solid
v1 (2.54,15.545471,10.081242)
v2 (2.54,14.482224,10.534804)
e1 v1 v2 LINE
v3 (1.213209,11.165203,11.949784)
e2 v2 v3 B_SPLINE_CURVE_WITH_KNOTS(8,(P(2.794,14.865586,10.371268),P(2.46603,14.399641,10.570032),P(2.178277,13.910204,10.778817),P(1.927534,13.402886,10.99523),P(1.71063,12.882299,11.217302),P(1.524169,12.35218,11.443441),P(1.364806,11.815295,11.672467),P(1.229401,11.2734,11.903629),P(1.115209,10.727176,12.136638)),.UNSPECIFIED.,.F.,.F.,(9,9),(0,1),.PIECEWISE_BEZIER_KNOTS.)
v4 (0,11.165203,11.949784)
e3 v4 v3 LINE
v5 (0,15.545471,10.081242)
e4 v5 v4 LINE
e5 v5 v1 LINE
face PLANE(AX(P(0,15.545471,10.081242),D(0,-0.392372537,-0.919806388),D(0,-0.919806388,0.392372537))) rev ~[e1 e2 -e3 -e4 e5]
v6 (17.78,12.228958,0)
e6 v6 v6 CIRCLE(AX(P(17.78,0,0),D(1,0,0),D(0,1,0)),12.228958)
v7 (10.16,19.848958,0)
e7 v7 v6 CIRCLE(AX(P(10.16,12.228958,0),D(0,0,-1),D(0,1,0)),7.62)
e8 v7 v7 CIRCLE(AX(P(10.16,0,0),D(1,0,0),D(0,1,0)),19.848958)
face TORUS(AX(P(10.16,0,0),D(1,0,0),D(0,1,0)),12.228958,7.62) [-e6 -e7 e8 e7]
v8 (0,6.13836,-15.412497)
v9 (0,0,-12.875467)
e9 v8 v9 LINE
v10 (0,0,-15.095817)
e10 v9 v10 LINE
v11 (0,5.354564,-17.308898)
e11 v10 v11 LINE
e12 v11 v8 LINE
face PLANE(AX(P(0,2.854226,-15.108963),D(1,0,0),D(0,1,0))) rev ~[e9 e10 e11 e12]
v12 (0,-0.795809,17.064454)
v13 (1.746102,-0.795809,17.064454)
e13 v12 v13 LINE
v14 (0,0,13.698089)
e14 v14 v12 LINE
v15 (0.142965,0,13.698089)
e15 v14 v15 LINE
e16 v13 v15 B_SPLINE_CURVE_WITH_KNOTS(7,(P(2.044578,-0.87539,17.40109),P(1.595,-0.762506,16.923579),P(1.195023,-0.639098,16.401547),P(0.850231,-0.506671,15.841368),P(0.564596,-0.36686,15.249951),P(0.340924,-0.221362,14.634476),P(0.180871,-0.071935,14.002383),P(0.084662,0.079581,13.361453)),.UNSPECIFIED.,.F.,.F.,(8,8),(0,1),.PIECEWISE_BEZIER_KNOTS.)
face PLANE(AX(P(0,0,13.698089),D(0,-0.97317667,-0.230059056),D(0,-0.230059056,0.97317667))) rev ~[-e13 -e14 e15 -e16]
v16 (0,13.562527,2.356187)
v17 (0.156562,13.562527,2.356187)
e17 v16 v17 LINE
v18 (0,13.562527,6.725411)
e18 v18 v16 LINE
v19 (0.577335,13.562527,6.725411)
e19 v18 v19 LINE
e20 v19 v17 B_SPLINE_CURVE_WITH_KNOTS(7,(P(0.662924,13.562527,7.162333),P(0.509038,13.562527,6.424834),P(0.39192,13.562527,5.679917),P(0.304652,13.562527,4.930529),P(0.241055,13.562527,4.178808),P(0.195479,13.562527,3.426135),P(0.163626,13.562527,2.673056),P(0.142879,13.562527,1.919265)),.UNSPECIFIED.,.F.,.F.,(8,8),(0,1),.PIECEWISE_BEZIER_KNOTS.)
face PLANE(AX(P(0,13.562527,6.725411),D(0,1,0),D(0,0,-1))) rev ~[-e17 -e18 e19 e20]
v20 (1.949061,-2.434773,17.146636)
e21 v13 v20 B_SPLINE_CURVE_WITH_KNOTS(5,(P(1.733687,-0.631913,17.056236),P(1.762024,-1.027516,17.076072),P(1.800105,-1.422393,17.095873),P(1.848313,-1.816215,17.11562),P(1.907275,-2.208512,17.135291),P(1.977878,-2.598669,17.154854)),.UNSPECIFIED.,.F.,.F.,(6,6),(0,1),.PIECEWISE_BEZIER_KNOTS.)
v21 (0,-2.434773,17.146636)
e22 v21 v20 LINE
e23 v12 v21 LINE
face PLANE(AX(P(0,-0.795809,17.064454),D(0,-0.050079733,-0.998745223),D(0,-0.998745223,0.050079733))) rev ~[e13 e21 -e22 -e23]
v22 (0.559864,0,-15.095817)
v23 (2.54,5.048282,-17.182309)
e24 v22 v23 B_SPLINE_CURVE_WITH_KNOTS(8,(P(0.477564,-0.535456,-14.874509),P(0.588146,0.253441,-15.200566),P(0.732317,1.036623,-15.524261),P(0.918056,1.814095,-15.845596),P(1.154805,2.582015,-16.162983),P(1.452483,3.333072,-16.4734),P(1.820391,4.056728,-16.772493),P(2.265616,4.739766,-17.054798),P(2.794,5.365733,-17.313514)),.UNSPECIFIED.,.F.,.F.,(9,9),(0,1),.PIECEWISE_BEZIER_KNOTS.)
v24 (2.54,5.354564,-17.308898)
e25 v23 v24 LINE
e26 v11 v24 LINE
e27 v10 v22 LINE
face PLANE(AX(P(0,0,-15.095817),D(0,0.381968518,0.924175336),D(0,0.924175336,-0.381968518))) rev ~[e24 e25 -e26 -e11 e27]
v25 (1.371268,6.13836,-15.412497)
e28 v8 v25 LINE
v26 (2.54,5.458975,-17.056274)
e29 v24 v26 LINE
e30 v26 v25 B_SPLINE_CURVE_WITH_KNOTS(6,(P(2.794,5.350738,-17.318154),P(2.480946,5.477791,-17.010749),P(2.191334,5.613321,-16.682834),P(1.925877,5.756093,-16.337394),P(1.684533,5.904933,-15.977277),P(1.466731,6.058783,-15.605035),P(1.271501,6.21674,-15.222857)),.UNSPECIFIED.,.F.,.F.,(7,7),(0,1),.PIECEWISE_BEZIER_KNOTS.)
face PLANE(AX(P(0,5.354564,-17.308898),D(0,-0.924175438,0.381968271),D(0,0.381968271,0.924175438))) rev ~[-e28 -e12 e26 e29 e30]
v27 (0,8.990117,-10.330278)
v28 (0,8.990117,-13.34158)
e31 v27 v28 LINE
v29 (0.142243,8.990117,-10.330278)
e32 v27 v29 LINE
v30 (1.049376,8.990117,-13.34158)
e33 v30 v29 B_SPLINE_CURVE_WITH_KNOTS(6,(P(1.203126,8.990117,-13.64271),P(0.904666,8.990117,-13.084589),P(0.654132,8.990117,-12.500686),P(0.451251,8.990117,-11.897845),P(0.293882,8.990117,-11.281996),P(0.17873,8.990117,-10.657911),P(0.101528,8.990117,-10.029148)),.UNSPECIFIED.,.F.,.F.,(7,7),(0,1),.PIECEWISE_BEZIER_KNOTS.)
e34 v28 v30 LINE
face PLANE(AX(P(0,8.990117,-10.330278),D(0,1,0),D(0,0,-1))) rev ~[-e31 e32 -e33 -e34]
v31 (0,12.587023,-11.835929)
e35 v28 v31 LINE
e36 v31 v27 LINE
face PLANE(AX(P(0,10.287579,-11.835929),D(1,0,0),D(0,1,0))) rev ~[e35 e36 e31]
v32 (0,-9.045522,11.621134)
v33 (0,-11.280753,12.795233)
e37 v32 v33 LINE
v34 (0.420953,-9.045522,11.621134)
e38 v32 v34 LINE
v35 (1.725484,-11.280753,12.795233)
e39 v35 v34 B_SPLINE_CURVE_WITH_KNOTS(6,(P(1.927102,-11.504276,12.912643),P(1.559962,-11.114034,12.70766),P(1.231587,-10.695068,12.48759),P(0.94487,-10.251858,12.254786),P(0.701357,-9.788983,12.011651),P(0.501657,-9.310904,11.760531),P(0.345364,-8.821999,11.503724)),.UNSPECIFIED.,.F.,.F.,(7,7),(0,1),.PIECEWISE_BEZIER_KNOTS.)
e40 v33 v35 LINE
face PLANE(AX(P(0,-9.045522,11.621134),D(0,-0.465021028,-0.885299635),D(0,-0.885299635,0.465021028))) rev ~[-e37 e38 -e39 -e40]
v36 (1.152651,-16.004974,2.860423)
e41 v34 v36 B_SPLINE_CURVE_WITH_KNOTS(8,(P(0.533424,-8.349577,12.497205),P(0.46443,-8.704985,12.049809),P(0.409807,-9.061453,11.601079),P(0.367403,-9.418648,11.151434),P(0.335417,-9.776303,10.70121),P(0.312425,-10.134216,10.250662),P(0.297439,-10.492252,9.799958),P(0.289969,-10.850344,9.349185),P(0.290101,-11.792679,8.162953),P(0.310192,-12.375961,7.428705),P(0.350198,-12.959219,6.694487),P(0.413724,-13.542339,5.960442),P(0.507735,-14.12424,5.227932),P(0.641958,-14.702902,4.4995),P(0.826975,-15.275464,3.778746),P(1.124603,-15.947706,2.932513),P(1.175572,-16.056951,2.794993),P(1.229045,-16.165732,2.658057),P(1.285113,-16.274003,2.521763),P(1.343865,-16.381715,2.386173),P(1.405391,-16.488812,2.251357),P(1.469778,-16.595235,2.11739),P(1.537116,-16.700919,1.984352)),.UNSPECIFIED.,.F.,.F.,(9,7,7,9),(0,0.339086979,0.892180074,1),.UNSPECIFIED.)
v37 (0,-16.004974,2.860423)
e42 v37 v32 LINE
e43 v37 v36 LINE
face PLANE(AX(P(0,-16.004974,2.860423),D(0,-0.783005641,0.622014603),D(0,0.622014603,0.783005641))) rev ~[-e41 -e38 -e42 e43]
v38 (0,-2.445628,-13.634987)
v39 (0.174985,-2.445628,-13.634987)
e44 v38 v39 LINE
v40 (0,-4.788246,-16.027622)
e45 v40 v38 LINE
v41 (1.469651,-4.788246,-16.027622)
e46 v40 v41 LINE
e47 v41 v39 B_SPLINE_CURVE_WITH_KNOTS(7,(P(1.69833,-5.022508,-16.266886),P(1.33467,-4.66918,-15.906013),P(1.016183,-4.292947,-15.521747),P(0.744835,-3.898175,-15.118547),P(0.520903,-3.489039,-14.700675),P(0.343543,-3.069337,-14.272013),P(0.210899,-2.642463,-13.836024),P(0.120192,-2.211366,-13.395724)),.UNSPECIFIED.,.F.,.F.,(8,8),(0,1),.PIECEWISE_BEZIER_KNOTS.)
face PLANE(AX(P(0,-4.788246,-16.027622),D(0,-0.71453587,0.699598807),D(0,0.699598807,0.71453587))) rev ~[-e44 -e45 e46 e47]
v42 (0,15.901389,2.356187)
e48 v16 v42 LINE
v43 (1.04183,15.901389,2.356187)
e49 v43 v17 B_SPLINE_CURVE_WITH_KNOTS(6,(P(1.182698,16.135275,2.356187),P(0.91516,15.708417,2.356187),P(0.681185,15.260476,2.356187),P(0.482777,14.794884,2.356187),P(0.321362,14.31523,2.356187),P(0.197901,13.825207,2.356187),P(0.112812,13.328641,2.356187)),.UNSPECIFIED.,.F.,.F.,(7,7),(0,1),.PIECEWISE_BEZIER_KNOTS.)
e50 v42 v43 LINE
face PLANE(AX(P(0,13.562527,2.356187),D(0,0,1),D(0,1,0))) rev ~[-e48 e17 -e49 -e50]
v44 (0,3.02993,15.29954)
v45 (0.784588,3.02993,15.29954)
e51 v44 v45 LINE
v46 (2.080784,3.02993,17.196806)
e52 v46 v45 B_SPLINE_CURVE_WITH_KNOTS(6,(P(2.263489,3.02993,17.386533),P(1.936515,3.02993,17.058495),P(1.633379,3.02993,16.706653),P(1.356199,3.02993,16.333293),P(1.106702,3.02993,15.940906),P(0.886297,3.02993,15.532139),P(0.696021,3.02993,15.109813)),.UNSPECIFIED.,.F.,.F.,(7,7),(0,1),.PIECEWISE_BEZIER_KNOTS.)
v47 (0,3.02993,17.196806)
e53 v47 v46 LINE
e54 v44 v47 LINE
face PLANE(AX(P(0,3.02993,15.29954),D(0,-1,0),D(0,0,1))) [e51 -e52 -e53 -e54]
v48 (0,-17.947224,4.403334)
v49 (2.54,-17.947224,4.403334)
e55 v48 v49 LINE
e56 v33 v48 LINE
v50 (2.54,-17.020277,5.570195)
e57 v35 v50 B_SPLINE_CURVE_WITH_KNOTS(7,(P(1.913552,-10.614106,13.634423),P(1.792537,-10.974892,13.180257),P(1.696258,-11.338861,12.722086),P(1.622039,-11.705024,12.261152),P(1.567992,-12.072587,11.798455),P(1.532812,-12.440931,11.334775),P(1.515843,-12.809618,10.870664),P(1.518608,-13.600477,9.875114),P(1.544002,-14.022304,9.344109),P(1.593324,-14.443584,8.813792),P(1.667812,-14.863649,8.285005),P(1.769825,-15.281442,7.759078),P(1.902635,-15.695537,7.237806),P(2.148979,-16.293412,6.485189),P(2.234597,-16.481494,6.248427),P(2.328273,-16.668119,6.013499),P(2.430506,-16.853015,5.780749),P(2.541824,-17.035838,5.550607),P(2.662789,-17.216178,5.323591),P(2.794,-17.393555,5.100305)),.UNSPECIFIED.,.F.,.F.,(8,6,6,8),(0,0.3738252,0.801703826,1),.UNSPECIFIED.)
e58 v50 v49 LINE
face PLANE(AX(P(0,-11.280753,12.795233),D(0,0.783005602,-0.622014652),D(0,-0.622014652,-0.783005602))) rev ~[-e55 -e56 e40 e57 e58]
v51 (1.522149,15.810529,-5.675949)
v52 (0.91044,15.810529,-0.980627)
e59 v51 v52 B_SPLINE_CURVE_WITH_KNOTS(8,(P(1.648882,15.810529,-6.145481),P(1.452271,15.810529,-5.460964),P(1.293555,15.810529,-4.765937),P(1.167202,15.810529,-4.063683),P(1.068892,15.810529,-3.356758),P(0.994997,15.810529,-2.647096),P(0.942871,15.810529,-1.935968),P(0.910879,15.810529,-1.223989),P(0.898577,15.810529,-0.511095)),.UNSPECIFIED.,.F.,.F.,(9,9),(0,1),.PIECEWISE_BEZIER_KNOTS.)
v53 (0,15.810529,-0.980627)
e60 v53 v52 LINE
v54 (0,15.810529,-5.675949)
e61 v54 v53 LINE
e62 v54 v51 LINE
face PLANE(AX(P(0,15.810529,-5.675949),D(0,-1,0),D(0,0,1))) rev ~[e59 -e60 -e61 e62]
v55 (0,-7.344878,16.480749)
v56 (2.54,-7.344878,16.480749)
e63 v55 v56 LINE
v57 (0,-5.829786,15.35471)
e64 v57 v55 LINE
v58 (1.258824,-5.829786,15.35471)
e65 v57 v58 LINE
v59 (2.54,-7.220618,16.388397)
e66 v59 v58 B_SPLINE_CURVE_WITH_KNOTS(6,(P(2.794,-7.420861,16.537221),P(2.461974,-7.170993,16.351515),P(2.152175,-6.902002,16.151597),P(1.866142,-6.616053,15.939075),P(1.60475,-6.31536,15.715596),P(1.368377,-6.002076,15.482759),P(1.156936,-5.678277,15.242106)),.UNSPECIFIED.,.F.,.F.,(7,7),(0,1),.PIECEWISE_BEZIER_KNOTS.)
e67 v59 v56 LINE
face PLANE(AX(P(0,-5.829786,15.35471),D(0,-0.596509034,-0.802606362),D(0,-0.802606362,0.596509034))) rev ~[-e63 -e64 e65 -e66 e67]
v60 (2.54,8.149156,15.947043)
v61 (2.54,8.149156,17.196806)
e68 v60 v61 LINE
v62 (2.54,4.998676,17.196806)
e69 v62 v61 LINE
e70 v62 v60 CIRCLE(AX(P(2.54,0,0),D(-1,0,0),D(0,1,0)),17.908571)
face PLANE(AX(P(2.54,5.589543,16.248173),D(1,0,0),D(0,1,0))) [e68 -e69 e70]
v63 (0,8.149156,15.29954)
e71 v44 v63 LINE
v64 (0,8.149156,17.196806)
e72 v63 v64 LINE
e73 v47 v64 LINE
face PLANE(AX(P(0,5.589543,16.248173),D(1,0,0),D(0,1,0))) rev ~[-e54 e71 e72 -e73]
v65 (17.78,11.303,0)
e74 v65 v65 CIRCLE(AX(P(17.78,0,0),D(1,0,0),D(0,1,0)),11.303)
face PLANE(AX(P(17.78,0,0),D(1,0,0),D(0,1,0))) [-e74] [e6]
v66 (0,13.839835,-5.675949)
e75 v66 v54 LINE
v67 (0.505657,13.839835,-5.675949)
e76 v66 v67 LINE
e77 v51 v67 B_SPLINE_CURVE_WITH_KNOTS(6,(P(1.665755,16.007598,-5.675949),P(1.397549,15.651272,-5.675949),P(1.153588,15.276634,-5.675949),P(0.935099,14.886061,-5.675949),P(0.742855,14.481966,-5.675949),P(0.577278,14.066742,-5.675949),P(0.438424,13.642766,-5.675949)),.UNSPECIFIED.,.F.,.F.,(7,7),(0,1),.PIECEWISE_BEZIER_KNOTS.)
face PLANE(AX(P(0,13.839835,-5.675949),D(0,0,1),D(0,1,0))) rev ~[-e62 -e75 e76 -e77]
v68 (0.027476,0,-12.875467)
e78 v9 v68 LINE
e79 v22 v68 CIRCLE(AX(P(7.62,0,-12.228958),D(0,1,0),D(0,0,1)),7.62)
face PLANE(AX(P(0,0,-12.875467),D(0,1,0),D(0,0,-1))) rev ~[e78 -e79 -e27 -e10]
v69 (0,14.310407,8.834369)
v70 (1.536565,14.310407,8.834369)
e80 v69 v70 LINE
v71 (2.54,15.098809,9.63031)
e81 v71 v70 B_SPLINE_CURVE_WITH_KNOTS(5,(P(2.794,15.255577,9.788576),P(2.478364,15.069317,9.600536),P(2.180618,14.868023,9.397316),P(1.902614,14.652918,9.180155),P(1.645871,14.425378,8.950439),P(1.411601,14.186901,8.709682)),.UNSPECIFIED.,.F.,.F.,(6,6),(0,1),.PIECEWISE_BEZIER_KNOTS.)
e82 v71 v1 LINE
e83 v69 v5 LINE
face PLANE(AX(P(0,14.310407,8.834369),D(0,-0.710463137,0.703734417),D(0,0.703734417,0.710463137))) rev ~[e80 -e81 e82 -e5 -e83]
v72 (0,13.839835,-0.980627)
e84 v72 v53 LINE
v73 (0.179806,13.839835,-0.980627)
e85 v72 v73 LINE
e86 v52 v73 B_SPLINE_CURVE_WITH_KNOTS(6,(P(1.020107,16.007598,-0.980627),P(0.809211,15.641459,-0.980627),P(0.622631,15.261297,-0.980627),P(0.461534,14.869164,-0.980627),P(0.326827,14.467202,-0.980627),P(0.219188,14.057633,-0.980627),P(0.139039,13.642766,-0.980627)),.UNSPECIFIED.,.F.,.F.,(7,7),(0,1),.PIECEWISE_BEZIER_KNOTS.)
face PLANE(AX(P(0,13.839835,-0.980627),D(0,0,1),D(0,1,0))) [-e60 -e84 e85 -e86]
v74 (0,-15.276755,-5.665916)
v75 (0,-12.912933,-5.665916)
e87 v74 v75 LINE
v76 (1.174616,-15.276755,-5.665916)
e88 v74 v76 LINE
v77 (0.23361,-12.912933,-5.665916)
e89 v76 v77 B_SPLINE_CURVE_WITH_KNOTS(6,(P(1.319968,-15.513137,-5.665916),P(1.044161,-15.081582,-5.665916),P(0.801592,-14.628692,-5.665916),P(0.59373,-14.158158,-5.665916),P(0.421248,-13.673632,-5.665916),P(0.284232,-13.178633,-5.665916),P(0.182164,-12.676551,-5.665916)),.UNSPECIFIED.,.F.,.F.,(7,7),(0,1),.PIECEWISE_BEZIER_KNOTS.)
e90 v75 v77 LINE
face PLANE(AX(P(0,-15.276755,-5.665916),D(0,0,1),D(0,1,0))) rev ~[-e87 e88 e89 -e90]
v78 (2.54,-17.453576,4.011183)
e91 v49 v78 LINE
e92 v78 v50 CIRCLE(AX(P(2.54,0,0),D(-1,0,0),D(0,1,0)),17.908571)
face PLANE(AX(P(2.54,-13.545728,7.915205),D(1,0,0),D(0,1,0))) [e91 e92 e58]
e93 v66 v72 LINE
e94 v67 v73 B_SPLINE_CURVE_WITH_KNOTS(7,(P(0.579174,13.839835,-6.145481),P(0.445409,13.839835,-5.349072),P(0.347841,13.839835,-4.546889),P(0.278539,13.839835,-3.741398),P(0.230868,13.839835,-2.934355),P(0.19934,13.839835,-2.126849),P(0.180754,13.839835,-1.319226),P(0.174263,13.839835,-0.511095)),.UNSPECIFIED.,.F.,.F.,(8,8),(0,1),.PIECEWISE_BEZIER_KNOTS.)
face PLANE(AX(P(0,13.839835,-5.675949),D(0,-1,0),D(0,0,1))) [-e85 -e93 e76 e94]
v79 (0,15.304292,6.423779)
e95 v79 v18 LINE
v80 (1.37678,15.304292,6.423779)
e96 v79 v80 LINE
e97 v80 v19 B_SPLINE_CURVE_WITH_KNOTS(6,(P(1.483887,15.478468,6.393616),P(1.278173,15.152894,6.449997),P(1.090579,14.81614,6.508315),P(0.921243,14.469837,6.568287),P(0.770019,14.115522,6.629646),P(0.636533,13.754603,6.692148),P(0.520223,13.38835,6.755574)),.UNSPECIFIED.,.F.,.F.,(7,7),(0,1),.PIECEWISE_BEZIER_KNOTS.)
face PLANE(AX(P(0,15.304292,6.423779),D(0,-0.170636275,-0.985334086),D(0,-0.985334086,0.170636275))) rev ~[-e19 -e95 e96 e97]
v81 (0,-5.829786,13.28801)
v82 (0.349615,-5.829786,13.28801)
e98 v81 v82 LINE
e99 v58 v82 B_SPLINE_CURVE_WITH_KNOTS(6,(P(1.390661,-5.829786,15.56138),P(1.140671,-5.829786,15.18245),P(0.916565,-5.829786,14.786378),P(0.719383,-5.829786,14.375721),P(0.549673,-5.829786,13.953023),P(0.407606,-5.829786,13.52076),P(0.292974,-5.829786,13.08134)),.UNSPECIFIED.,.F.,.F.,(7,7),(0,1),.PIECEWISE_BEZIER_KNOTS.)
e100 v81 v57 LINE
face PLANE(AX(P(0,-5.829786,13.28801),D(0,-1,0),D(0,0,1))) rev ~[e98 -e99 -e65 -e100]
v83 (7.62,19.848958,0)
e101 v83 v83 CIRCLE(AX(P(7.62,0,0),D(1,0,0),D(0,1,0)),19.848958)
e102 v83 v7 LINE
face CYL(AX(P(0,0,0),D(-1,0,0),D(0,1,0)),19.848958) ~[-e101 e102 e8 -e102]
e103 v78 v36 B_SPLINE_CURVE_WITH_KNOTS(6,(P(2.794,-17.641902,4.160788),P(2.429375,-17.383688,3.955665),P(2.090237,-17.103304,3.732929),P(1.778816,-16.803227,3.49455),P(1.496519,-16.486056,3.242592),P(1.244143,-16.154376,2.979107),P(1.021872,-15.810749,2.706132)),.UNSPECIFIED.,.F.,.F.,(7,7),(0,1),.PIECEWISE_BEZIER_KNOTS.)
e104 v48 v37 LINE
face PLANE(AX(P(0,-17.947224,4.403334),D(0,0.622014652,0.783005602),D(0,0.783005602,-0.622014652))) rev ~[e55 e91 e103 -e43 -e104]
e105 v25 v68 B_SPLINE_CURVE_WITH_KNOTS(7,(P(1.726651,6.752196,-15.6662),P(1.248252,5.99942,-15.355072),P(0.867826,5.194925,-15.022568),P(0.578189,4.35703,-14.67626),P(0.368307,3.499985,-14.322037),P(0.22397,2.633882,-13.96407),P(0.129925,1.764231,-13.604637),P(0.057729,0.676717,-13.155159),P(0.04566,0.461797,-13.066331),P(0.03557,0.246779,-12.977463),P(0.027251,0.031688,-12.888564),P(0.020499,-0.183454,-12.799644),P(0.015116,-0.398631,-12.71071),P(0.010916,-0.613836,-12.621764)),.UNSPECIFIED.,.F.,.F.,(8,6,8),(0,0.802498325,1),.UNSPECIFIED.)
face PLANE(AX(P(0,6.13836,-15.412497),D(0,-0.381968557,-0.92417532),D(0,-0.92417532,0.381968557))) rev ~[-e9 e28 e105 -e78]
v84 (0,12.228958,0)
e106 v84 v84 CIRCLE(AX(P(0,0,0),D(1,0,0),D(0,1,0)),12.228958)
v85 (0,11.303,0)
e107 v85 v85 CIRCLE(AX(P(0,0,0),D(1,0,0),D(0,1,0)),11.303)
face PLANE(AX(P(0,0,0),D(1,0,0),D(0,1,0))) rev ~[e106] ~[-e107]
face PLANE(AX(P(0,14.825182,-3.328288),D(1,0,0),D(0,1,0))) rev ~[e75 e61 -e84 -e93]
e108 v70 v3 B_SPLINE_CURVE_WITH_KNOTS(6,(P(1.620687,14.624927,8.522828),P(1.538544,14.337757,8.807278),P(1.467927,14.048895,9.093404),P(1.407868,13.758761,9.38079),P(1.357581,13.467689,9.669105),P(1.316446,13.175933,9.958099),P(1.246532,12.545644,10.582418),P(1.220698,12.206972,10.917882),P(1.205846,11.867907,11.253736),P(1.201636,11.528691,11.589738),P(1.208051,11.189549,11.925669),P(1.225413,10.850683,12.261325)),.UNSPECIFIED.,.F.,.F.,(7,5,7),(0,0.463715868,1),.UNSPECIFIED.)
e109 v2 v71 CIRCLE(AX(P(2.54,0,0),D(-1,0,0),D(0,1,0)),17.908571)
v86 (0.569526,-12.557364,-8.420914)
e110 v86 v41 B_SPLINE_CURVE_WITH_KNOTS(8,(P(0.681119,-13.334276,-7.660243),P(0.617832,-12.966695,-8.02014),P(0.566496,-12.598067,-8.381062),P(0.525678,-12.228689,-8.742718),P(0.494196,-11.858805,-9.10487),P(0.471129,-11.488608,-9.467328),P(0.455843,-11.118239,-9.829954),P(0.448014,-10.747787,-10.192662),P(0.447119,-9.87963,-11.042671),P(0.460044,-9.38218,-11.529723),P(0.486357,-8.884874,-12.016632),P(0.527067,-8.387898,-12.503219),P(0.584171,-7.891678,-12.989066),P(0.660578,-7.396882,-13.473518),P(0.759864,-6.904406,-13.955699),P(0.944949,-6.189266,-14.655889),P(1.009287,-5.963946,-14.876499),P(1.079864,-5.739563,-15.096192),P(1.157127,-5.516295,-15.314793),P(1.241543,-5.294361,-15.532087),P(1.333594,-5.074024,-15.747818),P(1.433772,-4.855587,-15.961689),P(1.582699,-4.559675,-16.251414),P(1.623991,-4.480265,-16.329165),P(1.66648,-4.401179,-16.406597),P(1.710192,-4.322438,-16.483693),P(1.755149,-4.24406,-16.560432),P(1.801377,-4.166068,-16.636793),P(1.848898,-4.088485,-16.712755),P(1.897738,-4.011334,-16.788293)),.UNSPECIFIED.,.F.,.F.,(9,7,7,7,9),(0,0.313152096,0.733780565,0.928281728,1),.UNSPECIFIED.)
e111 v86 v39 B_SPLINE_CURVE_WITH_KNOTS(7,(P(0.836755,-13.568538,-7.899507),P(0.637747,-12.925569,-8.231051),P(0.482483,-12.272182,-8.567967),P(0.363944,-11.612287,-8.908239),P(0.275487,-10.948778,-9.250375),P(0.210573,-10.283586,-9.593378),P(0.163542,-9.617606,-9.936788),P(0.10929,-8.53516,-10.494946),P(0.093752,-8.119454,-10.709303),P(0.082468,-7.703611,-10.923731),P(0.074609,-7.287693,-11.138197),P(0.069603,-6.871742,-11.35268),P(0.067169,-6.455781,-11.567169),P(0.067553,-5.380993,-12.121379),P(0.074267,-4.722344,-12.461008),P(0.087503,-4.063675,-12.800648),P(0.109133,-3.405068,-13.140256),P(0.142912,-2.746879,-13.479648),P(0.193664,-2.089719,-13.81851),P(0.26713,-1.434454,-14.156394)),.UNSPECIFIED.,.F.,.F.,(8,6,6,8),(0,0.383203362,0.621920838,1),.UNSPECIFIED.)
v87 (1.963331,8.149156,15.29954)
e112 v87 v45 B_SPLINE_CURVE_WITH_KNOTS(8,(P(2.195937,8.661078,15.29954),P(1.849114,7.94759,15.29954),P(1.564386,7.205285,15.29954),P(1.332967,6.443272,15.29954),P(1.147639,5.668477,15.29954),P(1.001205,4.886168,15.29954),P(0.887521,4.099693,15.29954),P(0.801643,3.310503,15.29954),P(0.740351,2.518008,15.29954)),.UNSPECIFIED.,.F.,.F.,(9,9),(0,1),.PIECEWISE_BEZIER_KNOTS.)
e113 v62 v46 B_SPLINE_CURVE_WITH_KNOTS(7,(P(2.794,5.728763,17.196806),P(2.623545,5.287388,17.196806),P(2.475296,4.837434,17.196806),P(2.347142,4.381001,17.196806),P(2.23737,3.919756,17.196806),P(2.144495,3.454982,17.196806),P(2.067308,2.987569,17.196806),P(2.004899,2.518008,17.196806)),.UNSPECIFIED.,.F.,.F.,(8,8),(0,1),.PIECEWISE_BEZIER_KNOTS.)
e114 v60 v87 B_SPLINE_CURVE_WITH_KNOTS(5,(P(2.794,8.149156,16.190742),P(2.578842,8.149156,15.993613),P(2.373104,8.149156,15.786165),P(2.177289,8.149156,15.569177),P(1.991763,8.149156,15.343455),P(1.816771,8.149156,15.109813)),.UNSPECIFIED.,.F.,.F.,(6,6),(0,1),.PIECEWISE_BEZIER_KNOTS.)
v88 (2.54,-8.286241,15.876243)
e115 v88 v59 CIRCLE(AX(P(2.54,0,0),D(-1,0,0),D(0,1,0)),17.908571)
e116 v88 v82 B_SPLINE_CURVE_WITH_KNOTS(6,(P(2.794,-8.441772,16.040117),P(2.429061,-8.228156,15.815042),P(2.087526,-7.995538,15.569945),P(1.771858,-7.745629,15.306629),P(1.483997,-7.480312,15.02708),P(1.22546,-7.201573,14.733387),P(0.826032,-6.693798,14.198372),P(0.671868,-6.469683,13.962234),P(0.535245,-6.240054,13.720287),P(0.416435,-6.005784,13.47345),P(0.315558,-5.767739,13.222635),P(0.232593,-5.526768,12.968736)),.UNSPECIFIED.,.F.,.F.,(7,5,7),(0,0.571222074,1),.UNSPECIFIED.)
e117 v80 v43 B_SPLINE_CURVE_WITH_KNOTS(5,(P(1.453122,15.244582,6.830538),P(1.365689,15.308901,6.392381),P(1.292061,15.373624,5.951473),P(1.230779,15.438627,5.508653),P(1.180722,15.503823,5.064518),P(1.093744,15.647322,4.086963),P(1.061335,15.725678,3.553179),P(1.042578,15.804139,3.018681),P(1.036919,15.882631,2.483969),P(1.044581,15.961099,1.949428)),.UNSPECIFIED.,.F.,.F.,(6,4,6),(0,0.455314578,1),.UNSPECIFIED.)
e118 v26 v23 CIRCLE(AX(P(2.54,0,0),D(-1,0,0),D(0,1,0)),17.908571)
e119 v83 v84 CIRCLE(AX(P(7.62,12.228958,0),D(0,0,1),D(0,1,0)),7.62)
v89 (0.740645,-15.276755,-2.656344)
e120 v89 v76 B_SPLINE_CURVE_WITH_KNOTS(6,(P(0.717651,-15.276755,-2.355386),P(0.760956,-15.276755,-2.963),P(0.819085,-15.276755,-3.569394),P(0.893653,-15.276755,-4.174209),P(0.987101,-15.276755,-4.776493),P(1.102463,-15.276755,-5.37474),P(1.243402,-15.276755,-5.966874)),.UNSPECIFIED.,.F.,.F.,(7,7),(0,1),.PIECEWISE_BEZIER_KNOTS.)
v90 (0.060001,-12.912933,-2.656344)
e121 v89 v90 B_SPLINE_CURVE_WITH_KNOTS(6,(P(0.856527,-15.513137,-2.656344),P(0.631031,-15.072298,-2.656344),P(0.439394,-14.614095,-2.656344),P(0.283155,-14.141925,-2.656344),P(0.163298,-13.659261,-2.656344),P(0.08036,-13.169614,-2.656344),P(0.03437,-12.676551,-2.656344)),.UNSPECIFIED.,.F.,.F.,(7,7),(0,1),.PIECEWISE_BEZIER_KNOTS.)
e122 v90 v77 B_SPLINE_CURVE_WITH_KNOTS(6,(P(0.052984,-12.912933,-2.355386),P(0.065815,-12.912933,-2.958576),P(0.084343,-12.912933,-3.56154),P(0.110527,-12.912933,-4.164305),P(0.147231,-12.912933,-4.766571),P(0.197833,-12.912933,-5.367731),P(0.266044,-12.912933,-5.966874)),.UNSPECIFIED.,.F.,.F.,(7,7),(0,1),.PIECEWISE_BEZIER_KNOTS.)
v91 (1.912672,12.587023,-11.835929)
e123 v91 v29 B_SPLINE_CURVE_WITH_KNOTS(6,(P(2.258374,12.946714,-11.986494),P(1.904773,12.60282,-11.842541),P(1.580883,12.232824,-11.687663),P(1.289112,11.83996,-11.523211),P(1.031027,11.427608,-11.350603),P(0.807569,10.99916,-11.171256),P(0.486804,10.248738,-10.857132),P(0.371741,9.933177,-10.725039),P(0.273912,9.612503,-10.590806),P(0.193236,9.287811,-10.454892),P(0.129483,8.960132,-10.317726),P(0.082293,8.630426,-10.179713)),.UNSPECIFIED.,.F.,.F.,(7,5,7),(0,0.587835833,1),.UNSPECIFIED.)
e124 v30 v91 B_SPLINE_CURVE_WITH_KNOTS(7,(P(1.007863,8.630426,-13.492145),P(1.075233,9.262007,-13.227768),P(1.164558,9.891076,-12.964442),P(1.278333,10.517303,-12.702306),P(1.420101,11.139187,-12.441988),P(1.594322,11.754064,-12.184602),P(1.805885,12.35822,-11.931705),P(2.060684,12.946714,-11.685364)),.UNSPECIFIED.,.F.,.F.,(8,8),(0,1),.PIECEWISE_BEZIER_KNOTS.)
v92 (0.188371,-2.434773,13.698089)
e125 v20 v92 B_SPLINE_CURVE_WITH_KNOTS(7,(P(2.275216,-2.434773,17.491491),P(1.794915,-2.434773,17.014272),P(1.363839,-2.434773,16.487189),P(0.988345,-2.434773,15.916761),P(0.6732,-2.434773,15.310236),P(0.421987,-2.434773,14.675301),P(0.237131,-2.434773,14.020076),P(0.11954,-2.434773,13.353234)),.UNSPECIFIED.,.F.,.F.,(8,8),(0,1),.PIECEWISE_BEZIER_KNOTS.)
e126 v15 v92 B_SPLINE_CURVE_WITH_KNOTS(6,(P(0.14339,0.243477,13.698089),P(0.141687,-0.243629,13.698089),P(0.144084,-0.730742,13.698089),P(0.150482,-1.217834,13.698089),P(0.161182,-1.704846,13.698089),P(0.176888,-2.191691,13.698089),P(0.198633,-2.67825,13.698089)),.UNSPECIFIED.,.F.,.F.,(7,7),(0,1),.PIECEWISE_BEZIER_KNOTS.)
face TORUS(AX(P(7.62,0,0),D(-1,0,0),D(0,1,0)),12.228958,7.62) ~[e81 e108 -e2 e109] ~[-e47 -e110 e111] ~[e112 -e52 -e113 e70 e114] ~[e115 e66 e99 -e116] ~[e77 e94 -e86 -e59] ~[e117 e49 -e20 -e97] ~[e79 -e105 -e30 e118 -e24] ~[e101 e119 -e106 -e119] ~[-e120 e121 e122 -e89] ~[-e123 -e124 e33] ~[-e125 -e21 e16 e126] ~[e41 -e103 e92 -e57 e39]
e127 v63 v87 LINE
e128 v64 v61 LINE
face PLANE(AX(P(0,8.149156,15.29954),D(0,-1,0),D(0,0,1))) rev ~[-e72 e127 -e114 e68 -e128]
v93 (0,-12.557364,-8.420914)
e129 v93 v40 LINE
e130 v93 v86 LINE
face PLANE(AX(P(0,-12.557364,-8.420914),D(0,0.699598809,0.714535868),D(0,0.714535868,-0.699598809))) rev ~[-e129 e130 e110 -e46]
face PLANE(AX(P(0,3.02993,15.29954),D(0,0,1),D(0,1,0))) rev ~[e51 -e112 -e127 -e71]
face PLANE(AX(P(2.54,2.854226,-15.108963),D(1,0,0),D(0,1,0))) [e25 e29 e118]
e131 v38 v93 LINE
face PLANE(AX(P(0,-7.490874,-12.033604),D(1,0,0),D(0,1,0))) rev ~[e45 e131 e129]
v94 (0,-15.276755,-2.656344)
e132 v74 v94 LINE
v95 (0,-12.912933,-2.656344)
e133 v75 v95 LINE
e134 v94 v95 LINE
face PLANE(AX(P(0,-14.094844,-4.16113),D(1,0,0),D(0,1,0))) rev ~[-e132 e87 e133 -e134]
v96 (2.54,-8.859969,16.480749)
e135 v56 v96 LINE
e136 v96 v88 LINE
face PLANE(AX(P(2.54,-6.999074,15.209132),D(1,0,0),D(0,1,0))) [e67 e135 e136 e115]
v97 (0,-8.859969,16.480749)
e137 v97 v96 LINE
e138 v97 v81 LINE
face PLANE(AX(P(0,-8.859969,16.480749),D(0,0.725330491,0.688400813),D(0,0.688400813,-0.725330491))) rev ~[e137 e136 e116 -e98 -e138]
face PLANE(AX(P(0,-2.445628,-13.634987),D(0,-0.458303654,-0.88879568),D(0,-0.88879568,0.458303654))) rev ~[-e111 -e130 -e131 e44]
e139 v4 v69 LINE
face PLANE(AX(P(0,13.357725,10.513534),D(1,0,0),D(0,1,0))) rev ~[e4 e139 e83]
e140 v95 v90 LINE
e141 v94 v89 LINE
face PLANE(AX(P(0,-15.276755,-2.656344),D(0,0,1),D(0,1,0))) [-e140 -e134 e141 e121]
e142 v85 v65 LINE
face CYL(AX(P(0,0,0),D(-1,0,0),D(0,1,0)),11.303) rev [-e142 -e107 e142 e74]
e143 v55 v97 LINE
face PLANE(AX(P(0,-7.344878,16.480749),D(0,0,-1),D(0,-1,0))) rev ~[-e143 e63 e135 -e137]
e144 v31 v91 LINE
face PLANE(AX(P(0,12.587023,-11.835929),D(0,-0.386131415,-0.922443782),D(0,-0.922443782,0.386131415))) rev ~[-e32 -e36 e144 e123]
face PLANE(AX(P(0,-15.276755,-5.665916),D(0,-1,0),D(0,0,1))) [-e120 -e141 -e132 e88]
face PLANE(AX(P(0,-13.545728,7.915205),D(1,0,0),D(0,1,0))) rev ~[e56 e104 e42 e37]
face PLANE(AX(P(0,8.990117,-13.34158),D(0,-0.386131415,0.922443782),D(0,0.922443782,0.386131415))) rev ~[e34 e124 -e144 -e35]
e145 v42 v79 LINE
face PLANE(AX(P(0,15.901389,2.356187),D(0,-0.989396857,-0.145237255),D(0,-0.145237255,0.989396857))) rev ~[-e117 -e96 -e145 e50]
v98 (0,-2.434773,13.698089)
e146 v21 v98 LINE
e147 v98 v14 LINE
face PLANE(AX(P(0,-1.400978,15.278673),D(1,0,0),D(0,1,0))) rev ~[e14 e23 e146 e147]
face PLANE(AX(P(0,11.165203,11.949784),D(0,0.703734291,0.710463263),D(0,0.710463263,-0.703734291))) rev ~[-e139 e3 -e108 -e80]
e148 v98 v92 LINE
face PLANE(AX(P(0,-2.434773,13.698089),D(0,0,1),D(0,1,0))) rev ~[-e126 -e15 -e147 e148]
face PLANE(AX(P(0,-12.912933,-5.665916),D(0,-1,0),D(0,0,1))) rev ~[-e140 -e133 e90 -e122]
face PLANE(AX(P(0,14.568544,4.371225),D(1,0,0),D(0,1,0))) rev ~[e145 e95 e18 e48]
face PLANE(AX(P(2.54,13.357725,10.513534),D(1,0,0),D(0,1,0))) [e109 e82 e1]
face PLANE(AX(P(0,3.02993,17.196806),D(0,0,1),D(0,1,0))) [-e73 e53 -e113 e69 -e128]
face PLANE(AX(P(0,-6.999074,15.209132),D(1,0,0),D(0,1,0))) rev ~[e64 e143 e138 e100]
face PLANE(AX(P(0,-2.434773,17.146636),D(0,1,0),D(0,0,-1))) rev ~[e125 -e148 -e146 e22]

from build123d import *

# Parameters (mm, degrees)
F0_R     = 19.848958
F0_R_2   = 11.303
F1_DEPTH = 17.78
F2_R     = 7.62
F3_W     = 5.119225
F3_H     = 1.897266
F3_W_2   = 1.970694
F3_H_2   = 4.695322
F3_W_3   = 2.363822
F3_H_3   = 3.009573
F4_DEPTH = 2.54


with BuildPart() as f1:
    # F0 (on Right) → F1 (new body)
    with BuildSketch(Plane.YZ):
        Circle(F0_R)
        Circle(F0_R_2, mode=Mode.SUBTRACT)
    extrude(amount=F1_DEPTH)

    # F2
    f2_edges = [f1.edges().sort_by_distance(p)[0] for p in [
        (17.78, -19.848958, 0),
        (0, -19.848958, 0),
    ]]
    fillet(f2_edges, radius=F2_R)

    # F3 (on Right) → F4 (join)
    with BuildSketch(Plane.YZ):
        Polygon((-16.004974, 2.860423), (-9.045522, 11.621134), (-11.280753, 12.795233), (-17.947224, 4.403334), align=None)
        Polygon((-7.344878, 16.480749), (-8.859969, 16.480749), (-5.829786, 13.28801), (-5.829786, 15.35471), align=None)
        Polygon((-0.795809, 17.064454), (-2.434773, 17.146636), (-2.434773, 13.698089), (0, 13.698089), align=None)
        with Locations((5.589543, 16.248173)):
            Rectangle(F3_W, F3_H)
        Polygon((15.545471, 10.081242), (11.165203, 11.949784), (14.310407, 8.834369), align=None)
        Polygon((15.304292, 6.423779), (13.562527, 6.725411), (13.562527, 2.356187), (15.901389, 2.356187), align=None)
        with Locations((14.825182, -3.328288)):
            Rectangle(F3_W_2, F3_H_2)
        Polygon((8.990117, -10.330278), (8.990117, -13.34158), (12.587023, -11.835929), align=None)
        Polygon((0, -12.875467), (0, -15.095817), (5.354564, -17.308898), (6.13836, -15.412497), align=None)
        Polygon((-2.445628, -13.634987), (-12.557364, -8.420914), (-4.788246, -16.027622), align=None)
        with Locations((-14.094844, -4.16113)):
            Rectangle(F3_W_3, F3_H_3)
    extrude(amount=F4_DEPTH)


solid = f1.part
